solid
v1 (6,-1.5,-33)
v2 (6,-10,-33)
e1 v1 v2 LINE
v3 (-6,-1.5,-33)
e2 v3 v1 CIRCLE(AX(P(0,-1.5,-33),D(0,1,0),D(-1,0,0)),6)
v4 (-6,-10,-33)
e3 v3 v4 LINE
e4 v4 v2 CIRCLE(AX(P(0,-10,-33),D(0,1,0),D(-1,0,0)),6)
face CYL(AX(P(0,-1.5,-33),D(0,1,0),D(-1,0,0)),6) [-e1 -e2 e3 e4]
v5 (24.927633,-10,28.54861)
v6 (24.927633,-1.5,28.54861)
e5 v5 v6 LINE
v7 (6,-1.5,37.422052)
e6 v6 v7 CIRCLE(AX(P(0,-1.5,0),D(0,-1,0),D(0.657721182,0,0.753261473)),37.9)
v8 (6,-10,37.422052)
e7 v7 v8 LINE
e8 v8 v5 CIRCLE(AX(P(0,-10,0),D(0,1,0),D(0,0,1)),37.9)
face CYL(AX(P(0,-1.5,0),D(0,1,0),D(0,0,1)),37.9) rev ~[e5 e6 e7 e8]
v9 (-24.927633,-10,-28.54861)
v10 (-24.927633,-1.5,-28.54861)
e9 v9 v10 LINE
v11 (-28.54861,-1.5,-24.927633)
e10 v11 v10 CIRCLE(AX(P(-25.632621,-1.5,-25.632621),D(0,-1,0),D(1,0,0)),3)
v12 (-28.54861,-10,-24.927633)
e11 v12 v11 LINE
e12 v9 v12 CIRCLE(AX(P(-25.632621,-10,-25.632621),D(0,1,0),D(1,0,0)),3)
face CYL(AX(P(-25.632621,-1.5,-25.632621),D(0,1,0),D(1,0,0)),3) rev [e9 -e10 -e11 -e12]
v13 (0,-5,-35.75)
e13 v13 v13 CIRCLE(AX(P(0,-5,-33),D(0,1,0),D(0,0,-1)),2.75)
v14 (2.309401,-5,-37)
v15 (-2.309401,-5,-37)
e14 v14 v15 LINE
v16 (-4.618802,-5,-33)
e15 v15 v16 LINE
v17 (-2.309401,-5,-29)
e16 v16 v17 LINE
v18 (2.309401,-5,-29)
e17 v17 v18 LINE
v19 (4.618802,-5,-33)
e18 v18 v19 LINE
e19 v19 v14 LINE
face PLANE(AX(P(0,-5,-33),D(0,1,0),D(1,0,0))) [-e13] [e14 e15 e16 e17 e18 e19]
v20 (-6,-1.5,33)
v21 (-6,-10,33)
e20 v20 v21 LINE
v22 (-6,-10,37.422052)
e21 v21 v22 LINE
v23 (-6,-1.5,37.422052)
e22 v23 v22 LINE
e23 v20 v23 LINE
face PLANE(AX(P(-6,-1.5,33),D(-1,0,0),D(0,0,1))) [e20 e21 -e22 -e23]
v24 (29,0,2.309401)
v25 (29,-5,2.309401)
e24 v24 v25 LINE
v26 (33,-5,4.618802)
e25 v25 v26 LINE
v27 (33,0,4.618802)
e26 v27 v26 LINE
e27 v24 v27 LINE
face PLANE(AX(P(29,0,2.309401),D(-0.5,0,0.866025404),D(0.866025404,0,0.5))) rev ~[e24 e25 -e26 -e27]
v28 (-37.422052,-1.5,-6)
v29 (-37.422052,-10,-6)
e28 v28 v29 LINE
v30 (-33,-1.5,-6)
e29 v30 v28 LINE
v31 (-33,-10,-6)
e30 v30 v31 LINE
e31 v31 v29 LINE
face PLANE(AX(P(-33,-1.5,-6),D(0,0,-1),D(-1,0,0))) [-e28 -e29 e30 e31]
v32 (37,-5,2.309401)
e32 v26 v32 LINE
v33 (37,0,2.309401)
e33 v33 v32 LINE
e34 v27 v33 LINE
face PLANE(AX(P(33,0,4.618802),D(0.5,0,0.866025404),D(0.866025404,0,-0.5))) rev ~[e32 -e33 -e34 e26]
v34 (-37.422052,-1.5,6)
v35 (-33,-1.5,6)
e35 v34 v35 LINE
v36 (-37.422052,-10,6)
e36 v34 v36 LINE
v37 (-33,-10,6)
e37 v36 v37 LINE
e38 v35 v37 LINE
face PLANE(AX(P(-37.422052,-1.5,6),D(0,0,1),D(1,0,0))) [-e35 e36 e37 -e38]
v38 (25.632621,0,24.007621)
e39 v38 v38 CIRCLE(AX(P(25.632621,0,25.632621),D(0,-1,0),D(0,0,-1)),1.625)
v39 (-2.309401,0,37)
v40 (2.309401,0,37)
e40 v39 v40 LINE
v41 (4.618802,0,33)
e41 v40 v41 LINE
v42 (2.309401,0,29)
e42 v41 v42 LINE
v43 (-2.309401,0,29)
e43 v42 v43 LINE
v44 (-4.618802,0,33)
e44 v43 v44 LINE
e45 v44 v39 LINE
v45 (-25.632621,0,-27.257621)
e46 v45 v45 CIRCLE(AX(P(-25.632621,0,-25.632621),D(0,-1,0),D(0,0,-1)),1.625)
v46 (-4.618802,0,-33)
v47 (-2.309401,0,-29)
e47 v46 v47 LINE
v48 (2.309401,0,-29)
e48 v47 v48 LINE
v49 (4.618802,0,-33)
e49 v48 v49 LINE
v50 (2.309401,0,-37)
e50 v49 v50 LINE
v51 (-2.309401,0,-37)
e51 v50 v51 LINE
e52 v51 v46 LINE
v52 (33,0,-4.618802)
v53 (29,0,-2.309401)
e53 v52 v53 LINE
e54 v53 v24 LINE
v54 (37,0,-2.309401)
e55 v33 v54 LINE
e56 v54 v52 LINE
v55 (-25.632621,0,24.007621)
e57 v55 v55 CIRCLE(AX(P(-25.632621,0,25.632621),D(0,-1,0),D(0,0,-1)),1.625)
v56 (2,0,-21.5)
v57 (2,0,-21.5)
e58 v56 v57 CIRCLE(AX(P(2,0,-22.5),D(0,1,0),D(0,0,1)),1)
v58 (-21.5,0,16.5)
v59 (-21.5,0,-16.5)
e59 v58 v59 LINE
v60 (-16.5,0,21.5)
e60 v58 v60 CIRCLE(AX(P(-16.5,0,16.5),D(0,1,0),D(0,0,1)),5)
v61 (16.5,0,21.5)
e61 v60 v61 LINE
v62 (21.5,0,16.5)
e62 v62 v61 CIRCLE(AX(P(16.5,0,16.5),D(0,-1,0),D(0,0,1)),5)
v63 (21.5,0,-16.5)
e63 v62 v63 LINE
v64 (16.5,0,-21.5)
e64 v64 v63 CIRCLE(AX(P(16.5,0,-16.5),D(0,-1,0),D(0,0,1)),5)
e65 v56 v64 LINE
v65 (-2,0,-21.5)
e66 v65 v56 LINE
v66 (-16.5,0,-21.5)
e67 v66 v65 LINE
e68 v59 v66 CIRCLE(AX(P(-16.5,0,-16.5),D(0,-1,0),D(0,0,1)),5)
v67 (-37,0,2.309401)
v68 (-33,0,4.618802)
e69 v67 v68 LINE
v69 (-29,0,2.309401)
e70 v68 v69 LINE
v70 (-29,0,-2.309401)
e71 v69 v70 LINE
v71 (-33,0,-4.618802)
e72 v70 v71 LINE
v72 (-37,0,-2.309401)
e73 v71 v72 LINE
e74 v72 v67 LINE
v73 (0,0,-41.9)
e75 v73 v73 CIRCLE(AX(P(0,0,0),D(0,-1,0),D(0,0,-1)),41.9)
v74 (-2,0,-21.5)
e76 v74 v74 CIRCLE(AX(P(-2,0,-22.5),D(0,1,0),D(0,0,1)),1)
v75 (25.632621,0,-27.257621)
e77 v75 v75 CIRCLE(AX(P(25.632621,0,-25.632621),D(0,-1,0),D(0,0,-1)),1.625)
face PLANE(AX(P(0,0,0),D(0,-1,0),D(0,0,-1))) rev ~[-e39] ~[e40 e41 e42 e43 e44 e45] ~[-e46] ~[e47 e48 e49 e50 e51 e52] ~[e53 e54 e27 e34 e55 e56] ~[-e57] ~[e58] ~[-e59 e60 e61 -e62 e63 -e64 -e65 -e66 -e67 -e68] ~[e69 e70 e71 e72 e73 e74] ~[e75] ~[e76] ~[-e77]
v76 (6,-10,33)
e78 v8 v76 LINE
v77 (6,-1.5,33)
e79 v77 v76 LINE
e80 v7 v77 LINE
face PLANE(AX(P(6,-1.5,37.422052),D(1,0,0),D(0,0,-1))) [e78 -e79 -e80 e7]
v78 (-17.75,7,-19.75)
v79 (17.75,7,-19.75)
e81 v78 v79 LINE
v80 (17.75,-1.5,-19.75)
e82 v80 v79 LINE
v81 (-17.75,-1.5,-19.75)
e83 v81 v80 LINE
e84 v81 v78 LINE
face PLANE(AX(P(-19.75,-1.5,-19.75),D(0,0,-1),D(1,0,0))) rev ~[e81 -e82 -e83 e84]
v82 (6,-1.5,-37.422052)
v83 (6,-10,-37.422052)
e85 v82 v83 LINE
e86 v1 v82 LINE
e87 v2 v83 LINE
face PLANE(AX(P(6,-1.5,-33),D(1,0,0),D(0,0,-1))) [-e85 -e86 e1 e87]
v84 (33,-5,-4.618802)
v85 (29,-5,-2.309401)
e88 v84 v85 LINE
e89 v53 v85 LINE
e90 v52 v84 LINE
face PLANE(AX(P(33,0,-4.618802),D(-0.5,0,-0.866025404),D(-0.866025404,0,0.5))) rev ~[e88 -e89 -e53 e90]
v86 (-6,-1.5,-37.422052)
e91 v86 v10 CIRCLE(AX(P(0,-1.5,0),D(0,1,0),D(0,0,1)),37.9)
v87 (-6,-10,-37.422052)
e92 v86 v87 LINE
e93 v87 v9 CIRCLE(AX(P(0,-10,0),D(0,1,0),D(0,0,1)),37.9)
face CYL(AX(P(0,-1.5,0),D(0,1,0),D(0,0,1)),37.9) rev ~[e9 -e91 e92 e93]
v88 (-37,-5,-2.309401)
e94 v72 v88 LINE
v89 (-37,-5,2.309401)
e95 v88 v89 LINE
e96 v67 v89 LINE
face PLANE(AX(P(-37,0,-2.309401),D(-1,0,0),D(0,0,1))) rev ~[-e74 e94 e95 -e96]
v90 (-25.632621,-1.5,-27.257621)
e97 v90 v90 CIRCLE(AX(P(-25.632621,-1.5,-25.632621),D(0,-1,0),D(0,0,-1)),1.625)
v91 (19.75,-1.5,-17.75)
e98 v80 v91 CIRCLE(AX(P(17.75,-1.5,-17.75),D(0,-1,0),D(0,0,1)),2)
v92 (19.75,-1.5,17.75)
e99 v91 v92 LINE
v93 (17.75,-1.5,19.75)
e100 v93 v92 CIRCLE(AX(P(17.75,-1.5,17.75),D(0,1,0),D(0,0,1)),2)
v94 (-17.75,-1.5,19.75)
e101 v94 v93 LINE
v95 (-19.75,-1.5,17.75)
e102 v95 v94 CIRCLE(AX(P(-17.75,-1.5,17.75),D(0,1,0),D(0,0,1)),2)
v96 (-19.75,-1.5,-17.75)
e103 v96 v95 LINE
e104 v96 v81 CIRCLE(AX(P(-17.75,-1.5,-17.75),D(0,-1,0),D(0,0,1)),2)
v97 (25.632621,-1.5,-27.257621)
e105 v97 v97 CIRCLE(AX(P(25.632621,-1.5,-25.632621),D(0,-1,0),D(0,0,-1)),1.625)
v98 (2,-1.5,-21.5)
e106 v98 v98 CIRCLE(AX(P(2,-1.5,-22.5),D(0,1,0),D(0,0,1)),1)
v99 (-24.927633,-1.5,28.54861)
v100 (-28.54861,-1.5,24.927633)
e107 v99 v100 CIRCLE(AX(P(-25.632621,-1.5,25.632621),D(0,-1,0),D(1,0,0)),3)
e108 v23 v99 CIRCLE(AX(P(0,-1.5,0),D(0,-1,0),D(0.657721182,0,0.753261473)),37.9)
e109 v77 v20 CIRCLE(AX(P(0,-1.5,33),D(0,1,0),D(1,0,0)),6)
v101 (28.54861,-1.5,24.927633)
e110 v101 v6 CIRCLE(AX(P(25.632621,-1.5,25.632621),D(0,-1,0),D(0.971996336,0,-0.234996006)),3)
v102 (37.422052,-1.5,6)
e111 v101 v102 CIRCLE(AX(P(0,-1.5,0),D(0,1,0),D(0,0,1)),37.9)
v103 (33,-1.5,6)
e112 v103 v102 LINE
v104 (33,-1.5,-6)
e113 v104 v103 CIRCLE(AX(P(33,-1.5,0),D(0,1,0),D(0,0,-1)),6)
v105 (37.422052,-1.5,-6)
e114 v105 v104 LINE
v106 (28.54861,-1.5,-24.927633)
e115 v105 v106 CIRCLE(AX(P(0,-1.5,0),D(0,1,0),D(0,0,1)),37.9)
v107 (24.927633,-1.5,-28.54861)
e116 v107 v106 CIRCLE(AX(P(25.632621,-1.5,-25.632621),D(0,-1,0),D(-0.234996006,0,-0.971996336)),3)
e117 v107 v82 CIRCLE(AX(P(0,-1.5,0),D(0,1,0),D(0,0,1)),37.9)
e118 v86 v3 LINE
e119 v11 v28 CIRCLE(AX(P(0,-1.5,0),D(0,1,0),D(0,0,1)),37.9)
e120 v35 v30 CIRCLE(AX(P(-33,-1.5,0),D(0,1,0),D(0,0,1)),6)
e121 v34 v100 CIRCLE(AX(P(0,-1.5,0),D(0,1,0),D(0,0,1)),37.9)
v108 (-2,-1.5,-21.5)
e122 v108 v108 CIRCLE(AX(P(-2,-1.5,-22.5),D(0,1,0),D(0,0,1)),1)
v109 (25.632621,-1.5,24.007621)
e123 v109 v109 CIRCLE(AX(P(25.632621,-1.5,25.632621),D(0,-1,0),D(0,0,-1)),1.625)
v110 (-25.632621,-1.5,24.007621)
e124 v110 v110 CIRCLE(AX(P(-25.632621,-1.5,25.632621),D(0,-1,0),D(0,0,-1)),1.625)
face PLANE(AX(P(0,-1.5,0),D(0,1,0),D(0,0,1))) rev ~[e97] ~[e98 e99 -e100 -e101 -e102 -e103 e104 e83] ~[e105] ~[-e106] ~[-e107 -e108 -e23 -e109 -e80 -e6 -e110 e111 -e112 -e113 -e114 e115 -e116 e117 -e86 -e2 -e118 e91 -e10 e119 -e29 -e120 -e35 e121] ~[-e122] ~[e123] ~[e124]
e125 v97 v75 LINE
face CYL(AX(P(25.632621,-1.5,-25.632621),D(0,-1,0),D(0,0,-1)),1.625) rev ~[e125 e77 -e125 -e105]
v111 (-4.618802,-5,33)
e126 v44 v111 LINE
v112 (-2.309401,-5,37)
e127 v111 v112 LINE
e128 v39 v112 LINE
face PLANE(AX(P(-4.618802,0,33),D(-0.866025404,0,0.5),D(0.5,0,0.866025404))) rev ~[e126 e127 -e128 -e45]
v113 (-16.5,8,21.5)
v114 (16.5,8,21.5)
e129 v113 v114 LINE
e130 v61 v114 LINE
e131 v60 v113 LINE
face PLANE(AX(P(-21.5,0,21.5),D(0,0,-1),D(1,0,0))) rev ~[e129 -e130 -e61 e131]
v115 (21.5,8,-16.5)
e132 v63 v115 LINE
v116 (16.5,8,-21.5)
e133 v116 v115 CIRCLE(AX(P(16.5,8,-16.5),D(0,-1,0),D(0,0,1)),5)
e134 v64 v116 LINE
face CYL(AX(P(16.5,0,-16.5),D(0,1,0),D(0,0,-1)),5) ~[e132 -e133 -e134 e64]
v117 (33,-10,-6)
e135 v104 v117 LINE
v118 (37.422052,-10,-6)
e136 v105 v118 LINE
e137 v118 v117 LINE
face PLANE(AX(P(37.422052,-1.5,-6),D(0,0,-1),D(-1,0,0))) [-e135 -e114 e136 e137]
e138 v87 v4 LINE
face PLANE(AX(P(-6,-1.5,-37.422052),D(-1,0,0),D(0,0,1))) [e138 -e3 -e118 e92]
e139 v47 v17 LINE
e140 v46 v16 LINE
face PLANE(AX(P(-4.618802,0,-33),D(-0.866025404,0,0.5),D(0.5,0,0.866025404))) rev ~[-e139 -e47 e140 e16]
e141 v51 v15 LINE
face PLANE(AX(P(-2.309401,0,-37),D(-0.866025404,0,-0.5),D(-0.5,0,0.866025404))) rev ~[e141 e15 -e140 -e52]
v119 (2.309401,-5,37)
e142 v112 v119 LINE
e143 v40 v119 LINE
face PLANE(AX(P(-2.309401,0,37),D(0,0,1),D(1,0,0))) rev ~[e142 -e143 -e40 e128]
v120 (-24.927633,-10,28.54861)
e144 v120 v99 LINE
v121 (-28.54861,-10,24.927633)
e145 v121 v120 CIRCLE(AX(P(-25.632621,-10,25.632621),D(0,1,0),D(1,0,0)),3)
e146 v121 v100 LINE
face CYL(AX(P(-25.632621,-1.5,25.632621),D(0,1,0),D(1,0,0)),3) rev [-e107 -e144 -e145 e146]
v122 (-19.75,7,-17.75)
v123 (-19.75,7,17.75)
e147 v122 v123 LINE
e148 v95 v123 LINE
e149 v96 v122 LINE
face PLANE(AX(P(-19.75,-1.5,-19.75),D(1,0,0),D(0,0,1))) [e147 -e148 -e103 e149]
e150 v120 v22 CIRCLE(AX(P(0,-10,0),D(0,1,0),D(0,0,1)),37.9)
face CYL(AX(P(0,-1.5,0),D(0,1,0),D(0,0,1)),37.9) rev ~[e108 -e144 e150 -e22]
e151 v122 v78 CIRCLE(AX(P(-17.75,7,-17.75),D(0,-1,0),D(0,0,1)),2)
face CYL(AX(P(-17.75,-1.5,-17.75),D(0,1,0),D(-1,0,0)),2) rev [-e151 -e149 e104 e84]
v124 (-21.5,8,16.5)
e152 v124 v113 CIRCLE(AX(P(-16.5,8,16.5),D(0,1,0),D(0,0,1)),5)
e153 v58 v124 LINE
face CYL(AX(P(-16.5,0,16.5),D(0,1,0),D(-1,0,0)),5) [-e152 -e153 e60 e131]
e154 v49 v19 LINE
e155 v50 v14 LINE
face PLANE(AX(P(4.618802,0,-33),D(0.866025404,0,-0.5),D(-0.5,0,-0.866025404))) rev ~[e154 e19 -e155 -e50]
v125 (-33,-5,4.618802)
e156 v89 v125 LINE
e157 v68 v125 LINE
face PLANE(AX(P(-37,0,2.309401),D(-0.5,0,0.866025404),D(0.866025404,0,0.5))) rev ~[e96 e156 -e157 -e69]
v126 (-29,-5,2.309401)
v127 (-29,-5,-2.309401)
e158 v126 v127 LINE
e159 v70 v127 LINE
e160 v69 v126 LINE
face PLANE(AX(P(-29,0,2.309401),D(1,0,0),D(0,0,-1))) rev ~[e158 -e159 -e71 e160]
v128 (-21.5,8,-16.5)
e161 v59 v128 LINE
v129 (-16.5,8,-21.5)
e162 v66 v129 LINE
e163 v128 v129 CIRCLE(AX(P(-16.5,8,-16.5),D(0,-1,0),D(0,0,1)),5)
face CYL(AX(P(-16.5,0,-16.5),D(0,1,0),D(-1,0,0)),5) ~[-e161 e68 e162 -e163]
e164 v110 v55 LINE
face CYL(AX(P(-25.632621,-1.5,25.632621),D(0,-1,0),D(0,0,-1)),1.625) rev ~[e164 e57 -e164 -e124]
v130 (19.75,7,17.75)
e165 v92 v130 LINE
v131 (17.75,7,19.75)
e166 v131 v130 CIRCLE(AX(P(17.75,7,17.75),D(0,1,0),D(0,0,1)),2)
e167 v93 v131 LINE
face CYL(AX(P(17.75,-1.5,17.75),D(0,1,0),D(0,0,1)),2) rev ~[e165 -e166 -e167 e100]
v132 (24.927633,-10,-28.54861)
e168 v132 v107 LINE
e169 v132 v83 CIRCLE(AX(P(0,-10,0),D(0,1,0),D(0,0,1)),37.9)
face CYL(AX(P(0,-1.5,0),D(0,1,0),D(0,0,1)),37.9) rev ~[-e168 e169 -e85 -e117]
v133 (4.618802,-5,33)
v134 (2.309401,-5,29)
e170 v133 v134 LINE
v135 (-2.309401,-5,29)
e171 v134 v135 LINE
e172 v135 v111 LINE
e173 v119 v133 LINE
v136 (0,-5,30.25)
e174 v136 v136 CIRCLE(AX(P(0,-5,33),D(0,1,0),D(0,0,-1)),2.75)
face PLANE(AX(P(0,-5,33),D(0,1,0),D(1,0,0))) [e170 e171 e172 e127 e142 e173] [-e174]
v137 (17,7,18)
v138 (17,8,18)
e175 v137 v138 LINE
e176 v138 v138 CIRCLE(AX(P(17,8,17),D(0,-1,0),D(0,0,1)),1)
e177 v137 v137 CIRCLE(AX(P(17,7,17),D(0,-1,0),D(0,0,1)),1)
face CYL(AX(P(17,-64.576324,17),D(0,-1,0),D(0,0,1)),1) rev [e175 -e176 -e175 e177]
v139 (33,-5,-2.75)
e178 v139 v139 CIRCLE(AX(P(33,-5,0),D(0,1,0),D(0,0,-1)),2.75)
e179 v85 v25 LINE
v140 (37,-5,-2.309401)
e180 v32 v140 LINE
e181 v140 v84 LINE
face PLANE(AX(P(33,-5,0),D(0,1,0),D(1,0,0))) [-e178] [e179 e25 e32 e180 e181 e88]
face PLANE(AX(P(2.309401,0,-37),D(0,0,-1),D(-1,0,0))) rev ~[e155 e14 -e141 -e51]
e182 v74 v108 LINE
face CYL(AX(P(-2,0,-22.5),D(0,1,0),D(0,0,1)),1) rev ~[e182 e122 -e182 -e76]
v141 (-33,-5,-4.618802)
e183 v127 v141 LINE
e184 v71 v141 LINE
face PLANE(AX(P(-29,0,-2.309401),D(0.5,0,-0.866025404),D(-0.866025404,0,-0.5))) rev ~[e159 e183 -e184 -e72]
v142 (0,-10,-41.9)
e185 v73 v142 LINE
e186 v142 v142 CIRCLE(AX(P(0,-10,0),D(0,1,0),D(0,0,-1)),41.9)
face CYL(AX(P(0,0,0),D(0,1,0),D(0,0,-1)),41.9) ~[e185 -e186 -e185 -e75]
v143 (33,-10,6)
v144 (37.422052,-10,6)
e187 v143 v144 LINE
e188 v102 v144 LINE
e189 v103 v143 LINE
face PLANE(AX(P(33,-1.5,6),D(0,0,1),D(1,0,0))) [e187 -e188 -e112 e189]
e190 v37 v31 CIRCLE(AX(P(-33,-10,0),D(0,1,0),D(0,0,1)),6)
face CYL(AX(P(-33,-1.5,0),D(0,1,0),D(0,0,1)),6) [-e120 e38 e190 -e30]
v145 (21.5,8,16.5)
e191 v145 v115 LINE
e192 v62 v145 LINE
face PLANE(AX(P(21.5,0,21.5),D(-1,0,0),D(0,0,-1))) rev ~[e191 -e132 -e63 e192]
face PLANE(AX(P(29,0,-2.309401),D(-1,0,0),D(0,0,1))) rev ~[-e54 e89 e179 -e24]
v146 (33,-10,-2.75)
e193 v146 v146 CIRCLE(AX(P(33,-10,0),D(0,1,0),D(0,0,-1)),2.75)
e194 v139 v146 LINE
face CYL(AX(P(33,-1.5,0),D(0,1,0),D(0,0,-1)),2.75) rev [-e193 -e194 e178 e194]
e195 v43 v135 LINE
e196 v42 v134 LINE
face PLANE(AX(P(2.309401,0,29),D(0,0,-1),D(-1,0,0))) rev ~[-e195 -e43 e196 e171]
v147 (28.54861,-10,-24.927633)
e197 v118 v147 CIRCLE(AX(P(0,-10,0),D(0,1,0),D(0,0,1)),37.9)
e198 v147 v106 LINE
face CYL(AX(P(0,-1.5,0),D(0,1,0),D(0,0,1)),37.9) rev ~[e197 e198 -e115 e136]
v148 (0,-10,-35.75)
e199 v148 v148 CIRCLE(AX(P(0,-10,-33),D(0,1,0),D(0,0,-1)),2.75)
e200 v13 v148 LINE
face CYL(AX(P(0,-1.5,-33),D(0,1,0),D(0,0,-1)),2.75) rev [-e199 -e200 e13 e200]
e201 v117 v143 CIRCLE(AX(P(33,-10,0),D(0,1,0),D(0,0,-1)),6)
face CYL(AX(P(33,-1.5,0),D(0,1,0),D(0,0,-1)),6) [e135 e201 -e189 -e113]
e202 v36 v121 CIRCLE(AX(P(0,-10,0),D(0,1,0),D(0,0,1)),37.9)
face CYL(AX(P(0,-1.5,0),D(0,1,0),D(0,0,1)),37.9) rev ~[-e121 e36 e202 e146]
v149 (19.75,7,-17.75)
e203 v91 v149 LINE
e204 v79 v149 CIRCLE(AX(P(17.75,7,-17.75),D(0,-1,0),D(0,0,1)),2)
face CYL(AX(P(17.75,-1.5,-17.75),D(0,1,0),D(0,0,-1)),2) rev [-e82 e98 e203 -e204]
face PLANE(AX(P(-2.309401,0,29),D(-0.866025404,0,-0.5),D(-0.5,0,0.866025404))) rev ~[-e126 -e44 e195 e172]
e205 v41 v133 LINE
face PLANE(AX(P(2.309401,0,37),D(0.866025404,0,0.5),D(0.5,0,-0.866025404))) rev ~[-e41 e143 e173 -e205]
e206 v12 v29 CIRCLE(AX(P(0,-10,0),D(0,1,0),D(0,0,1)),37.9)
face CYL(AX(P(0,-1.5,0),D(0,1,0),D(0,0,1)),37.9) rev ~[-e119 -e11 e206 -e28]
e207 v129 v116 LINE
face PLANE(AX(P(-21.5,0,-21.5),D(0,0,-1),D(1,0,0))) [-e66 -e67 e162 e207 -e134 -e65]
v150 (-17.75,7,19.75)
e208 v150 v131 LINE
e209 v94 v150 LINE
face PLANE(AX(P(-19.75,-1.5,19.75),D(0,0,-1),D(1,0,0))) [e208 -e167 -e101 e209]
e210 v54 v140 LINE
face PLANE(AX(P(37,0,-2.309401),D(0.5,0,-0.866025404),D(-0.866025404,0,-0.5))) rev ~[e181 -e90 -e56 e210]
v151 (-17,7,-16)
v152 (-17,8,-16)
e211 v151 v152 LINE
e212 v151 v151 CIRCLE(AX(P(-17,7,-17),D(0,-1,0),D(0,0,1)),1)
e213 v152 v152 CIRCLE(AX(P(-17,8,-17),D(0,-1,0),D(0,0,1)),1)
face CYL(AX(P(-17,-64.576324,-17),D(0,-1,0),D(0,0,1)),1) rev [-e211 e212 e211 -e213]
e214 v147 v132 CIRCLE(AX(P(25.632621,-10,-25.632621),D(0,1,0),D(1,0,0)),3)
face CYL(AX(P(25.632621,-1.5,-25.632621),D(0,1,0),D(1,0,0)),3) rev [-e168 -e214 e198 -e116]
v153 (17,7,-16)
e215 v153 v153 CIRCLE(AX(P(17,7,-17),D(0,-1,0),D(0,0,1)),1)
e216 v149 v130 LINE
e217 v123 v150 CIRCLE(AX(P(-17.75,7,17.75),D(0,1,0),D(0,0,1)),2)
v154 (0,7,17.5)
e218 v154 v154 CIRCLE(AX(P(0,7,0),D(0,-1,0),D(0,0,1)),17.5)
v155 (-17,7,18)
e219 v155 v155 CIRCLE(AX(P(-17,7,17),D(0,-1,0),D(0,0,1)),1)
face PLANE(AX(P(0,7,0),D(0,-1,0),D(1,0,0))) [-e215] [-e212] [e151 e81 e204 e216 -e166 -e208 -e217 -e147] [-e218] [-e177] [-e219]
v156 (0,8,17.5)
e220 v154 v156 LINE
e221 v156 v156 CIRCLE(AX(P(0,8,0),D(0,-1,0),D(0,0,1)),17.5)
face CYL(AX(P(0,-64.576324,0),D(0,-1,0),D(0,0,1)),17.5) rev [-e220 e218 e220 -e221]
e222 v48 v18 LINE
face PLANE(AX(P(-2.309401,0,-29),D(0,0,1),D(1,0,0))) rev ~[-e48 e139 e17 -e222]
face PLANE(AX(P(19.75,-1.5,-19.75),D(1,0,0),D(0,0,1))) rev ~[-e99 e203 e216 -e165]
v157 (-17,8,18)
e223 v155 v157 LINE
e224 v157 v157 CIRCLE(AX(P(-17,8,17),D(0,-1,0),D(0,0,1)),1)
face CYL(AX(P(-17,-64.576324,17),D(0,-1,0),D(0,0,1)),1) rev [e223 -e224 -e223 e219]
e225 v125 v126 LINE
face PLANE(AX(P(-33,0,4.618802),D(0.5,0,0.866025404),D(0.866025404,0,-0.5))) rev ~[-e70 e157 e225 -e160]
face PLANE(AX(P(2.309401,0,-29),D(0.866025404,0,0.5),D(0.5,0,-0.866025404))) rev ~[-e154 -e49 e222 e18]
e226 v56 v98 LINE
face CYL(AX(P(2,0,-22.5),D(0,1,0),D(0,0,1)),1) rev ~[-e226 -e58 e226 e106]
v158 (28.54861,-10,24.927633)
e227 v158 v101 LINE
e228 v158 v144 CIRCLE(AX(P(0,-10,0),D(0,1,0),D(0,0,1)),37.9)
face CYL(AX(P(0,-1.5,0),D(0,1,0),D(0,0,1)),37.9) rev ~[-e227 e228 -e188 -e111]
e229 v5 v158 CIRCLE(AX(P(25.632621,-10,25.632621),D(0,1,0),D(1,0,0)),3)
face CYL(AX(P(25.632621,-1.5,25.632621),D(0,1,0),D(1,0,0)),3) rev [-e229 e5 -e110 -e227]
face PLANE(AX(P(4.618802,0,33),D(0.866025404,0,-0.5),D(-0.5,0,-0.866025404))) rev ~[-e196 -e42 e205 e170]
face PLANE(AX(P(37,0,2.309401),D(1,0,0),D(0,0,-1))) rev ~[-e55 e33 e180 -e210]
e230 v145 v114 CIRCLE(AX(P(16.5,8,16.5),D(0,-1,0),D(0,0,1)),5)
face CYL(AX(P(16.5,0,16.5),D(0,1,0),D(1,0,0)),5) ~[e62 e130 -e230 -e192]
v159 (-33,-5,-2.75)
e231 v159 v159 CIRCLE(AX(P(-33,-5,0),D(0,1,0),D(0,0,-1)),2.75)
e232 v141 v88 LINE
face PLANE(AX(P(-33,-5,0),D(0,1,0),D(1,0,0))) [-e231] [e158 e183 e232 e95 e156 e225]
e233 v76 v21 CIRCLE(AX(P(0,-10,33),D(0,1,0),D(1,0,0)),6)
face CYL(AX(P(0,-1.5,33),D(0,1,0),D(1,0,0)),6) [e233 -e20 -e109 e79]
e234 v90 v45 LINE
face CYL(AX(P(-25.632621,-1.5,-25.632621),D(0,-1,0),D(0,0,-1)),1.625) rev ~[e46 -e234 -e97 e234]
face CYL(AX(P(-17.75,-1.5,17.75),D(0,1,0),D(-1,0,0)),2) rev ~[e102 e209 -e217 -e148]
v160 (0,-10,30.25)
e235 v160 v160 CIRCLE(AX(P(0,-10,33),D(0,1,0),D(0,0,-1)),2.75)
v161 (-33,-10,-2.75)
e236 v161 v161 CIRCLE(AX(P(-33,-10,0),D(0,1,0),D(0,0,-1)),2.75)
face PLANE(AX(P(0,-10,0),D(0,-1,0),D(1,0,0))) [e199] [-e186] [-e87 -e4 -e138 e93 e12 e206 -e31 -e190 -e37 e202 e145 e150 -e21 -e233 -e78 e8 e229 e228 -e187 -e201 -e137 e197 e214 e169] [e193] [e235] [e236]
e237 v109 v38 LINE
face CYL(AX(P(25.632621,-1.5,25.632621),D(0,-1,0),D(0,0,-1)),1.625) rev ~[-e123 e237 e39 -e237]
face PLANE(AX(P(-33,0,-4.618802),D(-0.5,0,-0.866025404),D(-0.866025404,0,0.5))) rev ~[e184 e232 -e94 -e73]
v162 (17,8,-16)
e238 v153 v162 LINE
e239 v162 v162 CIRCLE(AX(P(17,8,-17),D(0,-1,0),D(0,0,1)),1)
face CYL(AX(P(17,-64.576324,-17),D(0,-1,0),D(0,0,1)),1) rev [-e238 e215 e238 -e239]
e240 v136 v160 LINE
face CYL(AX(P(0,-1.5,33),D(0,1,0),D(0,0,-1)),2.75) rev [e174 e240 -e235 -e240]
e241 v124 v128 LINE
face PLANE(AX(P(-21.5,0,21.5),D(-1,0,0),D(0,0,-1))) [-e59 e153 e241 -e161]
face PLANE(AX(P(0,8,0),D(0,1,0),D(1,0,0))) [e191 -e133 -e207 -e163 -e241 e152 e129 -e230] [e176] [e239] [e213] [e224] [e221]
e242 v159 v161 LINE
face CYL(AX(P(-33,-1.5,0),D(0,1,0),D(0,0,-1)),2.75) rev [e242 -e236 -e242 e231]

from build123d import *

# Parameters (mm, degrees)
SKETCH1_R               = 41.9
TOP_PART_DEPTH          = 15
SKETCH2_R               = 30
CUT_EXTRUDE1_DEPTH      = 20
FILLET1_R               = 1.5
CHAMFER1_SIZE           = 2
SKETCH8_7_R             = 1.625
CUT_EXTRUDE8_DEPTH      = 3
SKETCH8_R               = 1.625
CUT_EXTRUDE7_DEPTH      = 62.124626857
CUT_EXTRUDE11_DEPTH     = 62.124626857
SKETCH15_R              = 1.625
CUT_EXTRUDE14_DEPTH     = 10
CUT_EXTRUDE15_DEPTH     = 10
CIRPATTERN1_COUNT       = 4
CIRPATTERN2_COUNT       = 4
SKETCH3_R               = 41.9
BOTTOM_PART_DEPTH       = 20
SKETCH6_R               = 37.9
CUT_EXTRUDE3_DEPTH      = 63.076324134
SKETCH_1_W              = 43
SKETCH_1_H              = 43
EXTRUDE_1_DEPTH         = 8
FILLET_1_R              = 5
CUT_EXTRUDE4_DEPTH      = 63.076324134
CUT_EXTRUDE4_DEPTH_BACK = 63.076324134
SKETCH7_R               = 17.5
SKETCH7_R_2             = 1
SKETCH12_W              = 39.5
SKETCH12_H              = 39.5
CUT_EXTRUDE10_DEPTH     = 8.5
FILLET3_R               = 2
SKETCH17_R              = 1.625
CUT_EXTRUDE16_DEPTH     = 63.076324134
SKETCH18_R              = 3
CUT_EXTRUDE17_DEPTH     = 63.076324134
SKETCH19_R              = 2.75
BOSS_EXTRUDE1_DEPTH     = 18.5
SKETCH20_W              = 87.79908129
SKETCH20_H              = 93.09964502
CUT_EXTRUDE18_DEPTH     = 10
SKETCH21_W              = 20
SKETCH21_H              = 8.651798588
CUT_EXTRUDE19_DEPTH     = 15
SKETCH22_R              = 41.9
SKETCH22_R_2            = 30
CUT_EXTRUDE20_DEPTH     = 15
SKETCH23_R              = 2.75
CUT_EXTRUDE21_DEPTH     = 62.92915307
CUT_EXTRUDE22_DEPTH     = 5
SKETCH25_R              = 1
CUT_EXTRUDE23_DEPTH     = 10


with BuildPart() as part:
    # Sketch1 → Top-Part (new body)
    with BuildSketch(Plane(origin=(0, 0, 0), x_dir=(1, 0, 0), z_dir=(0, 1, 0))):
        with Locations(Location((0, 0, 0), (0, 0, 270))):
            Circle(SKETCH1_R)
    extrude(amount=TOP_PART_DEPTH)

    # Sketch2 → Cut-Extrude1 (cut)
    with BuildSketch(Plane(origin=(0, 15, 0), x_dir=(1, 0, 0), z_dir=(0, 1, 0))):
        with Locations(Location((0, 0, 0), (0, 0, 270))):
            Circle(SKETCH2_R)
    extrude(amount=-CUT_EXTRUDE1_DEPTH, mode=Mode.SUBTRACT)

    # Fillet1
    fillet1_edges = [part.edges().sort_by_distance(p)[0] for p in [
        (0, 15, -41.9),
    ]]
    fillet(fillet1_edges, radius=FILLET1_R)

    # Chamfer1
    chamfer1_edges = [part.edges().sort_by_distance(p)[0] for p in [
        (0, 15, -30),
    ]]
    chamfer(chamfer1_edges, length=CHAMFER1_SIZE)

    # Sketch8<7> → Cut-Extrude8 (cut)
    # profile 1 of 4: a face of its own
    with BuildSketch(Plane(origin=(0, 15, 0), x_dir=(1, 0, 0), z_dir=(0, 1, 0))):
        Polygon((25.083213555, 22.516777398), (28.056316743, 23.598898462), (28.605724005, 26.714741882), (26.182028081, 28.748464238), (23.208924893, 27.666343174), (22.659517631, 24.550499754), align=None)
        with Locations(Location((25.632620818, 25.632620818, 0), (0, 0, 270))):
            Circle(SKETCH8_7_R, mode=Mode.SUBTRACT)
    # profile 2 of 4: a face of its own
    with BuildSketch(Plane(origin=(0, 15, 0), x_dir=(1, 0, 0), z_dir=(0, 1, 0))):
        Polygon((-22.516777398, 25.083213555), (-23.598898462, 28.056316743), (-26.714741882, 28.605724005), (-28.748464238, 26.182028081), (-27.666343174, 23.208924893), (-24.550499754, 22.659517631), align=None)
        with Locations(Location((-25.632620818, 25.632620818, 0), (0, 0, 270))):
            Circle(SKETCH8_7_R, mode=Mode.SUBTRACT)
    # profile 3 of 4: a face of its own
    with BuildSketch(Plane(origin=(0, 15, 0), x_dir=(1, 0, 0), z_dir=(0, 1, 0))):
        Polygon((22.516777398, -25.083213555), (23.598898462, -28.056316743), (26.714741882, -28.605724005), (28.748464238, -26.182028081), (27.666343174, -23.208924893), (24.550499754, -22.659517631), align=None)
        with Locations(Location((25.632620818, -25.632620818, 0), (0, 0, 270))):
            Circle(SKETCH8_7_R, mode=Mode.SUBTRACT)
    # profile 4 of 4: a face of its own
    with BuildSketch(Plane(origin=(0, 15, 0), x_dir=(1, 0, 0), z_dir=(0, 1, 0))):
        Polygon((-25.083213555, -22.516777398), (-28.056316743, -23.598898462), (-28.605724005, -26.714741882), (-26.182028081, -28.748464238), (-23.208924893, -27.666343174), (-22.659517631, -24.550499754), align=None)
        with Locations(Location((-25.632620818, -25.632620818, 0), (0, 0, 270))):
            Circle(SKETCH8_7_R, mode=Mode.SUBTRACT)
    extrude(amount=-CUT_EXTRUDE8_DEPTH, mode=Mode.SUBTRACT)

    # Sketch8 → Cut-Extrude7 (cut, through all)
    with BuildSketch(Plane(origin=(0, 15, 0), x_dir=(1, 0, 0), z_dir=(0, 1, 0))):
        with Locations(Location((-25.632620818, 25.632620818, 0), (0, 0, 270))):
            Circle(SKETCH8_R)
        with Locations(Location((25.632620818, 25.632620818, 0), (0, 0, 270))):
            Circle(SKETCH8_R)
        with Locations(Location((25.632620818, -25.632620818, 0), (0, 0, 270))):
            Circle(SKETCH8_R)
        with Locations(Location((-25.632620818, -25.632620818, 0), (0, 0, 270))):
            Circle(SKETCH8_R)
    extrude(amount=-CUT_EXTRUDE7_DEPTH, mode=Mode.SUBTRACT)

    # Sketch13 → Cut-Extrude11 (cut, through all)
    with BuildSketch(Plane.XZ):
        with BuildLine():
            Line((-10, 35.519149765), (-10, 40.689187753))
            ThreePointArc((-10, 40.689187753), (0, 41.9), (10, 40.689187753))
            Line((10, 40.689187753), (10, 35.519149765))
            ThreePointArc((10, 35.519149765), (0, 36.9), (-10, 35.519149765))
        make_face()
    extrude(amount=-CUT_EXTRUDE11_DEPTH, mode=Mode.SUBTRACT)

    # Sketch15 → Cut-Extrude14 (cut, symmetric)
    with BuildSketch(Plane.XY.offset(32.4)):
        with Locations(Location((0, 7.5, 0), (0, 0, 180))):
            Circle(SKETCH15_R)
    cut_extrude14 = extrude(amount=CUT_EXTRUDE14_DEPTH, both=True, mode=Mode.SUBTRACT)

    # Sketch16 → Cut-Extrude15 (cut)
    with BuildSketch(Plane.XY.offset(32.4)):
        Polygon((3.377499075, 7.5), (1.688749537, 10.425), (-1.688749537, 10.425), (-3.377499075, 7.5), (-1.688749537, 4.575), (1.688749537, 4.575), align=None)
    cut_extrude15 = extrude(amount=-CUT_EXTRUDE15_DEPTH, mode=Mode.SUBTRACT)

    # CirPattern1: Cut-Extrude14 ×4 about axis
    cirpattern1_axis = Axis((0, 0, 0), (0, 1, 0))
    for i in range(1, CIRPATTERN1_COUNT):
        add(cut_extrude14.rotate(cirpattern1_axis, i * 360 / CIRPATTERN1_COUNT), mode=Mode.SUBTRACT)

    # CirPattern2: Cut-Extrude15 ×4 about axis
    cirpattern2_axis = Axis((0, 0, 0), (0, 1, 0))
    for i in range(1, CIRPATTERN2_COUNT):
        add(cut_extrude15.rotate(cirpattern2_axis, i * 360 / CIRPATTERN2_COUNT), mode=Mode.SUBTRACT)

    # Sketch21 → Cut-Extrude19 (cut)
    with BuildSketch(Plane(origin=(0, 15, 0), x_dir=(1, 0, 0), z_dir=(0, 1, 0))):
        with Locations((0, -39.225899294)):
            Rectangle(SKETCH21_W, SKETCH21_H)
    extrude(amount=-CUT_EXTRUDE19_DEPTH, mode=Mode.SUBTRACT)

    # Sketch22 → Cut-Extrude20 (cut)
    with BuildSketch(Plane(origin=(0, 15, 0), x_dir=(1, 0, 0), z_dir=(0, 1, 0))):
        with Locations(Location((0, 0, 0), (0, 0, 270))):
            Circle(SKETCH22_R)
        Circle(SKETCH22_R_2, mode=Mode.SUBTRACT)
    extrude(amount=-CUT_EXTRUDE20_DEPTH, mode=Mode.SUBTRACT)


with BuildPart() as body_2:
    # Sketch3 → Bottom-Part (new body)
    with BuildSketch(Plane.XZ):
        with Locations(Location((0, 0, 0), (0, 0, 270))):
            Circle(SKETCH3_R)
    extrude(amount=BOTTOM_PART_DEPTH)

    # Sketch6 → Cut-Extrude3 (cut, through all)
    with BuildSketch(Plane(origin=(0, -1.5, 0), x_dir=(1, 0, 0), z_dir=(0, 1, 0))):
        with Locations(Location((0, 0, 0), (0, 0, 270))):
            Circle(SKETCH6_R)
    extrude(amount=-CUT_EXTRUDE3_DEPTH, mode=Mode.SUBTRACT)

    # ｽｹｯﾁ1 → ﾎﾞｽ - 押し出し1 (add)
    with BuildSketch(Plane(origin=(0, 0, 0), x_dir=(1, 0, 0), z_dir=(0, 1, 0))):
        Rectangle(SKETCH_1_W, SKETCH_1_H)
    extrude(amount=EXTRUDE_1_DEPTH)

    # ﾌｨﾚｯﾄ1
    fillet_1_edges = [body_2.edges().sort_by_distance(p)[0] for p in [
        (-21.5, 4, -21.5),
        (-21.5, 4, 21.5),
        (21.5, 4, 21.5),
        (21.5, 4, -21.5),
    ]]
    fillet(fillet_1_edges, radius=FILLET_1_R)

    # Sketch7 → Cut-Extrude4 (cut, two sides: drawn at the far end of the back side and taken through both)
    with BuildSketch(Plane(origin=(0, -1.5, 0), x_dir=(1, 0, 0), z_dir=(0, 1, 0)).offset(-CUT_EXTRUDE4_DEPTH_BACK)):
        with Locations(Location((0, 0, 0), (0, 0, 270))):
            Circle(SKETCH7_R)
        with Locations(Location((17, -17, 0), (0, 0, 270))):
            Circle(SKETCH7_R_2)
        with Locations(Location((-17, -17, 0), (0, 0, 270))):
            Circle(SKETCH7_R_2)
        with Locations(Location((-17, 17, 0), (0, 0, 270))):
            Circle(SKETCH7_R_2)
        with Locations(Location((17, 17, 0), (0, 0, 270))):
            Circle(SKETCH7_R_2)
    extrude(amount=CUT_EXTRUDE4_DEPTH + CUT_EXTRUDE4_DEPTH_BACK, mode=Mode.SUBTRACT)

    # Sketch12 → Cut-Extrude10 (cut)
    with BuildSketch(Plane.XZ.offset(1.5)):
        Rectangle(SKETCH12_W, SKETCH12_H)
    extrude(amount=-CUT_EXTRUDE10_DEPTH, mode=Mode.SUBTRACT)

    # Fillet3
    fillet3_edges = [body_2.edges().sort_by_distance(p)[0] for p in [
        (-19.75, 2.75, -19.75),
        (-19.75, 2.75, 19.75),
        (19.75, 2.75, 19.75),
        (19.75, 2.75, -19.75),
    ]]
    fillet(fillet3_edges, radius=FILLET3_R)

    # Sketch17 → Cut-Extrude16 (cut, through all)
    with BuildSketch(Plane.XZ.offset(1.5)):
        with Locations(Location((25.632620818, -25.632620818, 0), (0, 0, 270))):
            Circle(SKETCH17_R)
        with Locations(Location((-25.632620818, -25.632620818, 0), (0, 0, 270))):
            Circle(SKETCH17_R)
        with Locations(Location((25.632620818, 25.632620818, 0), (0, 0, 270))):
            Circle(SKETCH17_R)
        with Locations(Location((-25.632620818, 25.632620818, 0), (0, 0, 270))):
            Circle(SKETCH17_R)
    extrude(amount=-CUT_EXTRUDE16_DEPTH, mode=Mode.SUBTRACT)

    # Sketch18 → Cut-Extrude17 (cut, through all)
    with BuildSketch(Plane.XZ.offset(1.5)):
        with Locations((-25.632620818, 25.632620818)):
            Circle(SKETCH18_R)
        with Locations((25.632620818, 25.632620818)):
            Circle(SKETCH18_R)
        with Locations((25.632620818, -25.632620818)):
            Circle(SKETCH18_R)
        with Locations((-25.632620818, -25.632620818)):
            Circle(SKETCH18_R)
    extrude(amount=CUT_EXTRUDE17_DEPTH, mode=Mode.SUBTRACT)

    # Sketch19 → Boss-Extrude1 (add)
    # profile 1 of 4: a face of its own
    with BuildSketch(Plane.XZ.offset(1.5)):
        with BuildLine():
            Line((-6, 33), (-6, 37.422052322))
            ThreePointArc((-6, 37.422052322), (0, 37.9), (6, 37.422052322))
            Line((6, 37.422052322), (6, 33))
            ThreePointArc((6, 33), (0, 27), (-6, 33))
        make_face()
        with Locations(Location((0, 33, 0), (0, 0, 270))):
            Circle(SKETCH19_R, mode=Mode.SUBTRACT)
    # profile 2 of 4: a face of its own
    with BuildSketch(Plane.XZ.offset(1.5)):
        with BuildLine():
            Line((33, 6), (37.422052322, 6))
            ThreePointArc((37.422052322, 6), (37.9, 0), (37.422052322, -6))
            Line((37.422052322, -6), (33, -6))
            ThreePointArc((33, -6), (27, 0), (33, 6))
        make_face()
        with Locations(Location((33, 0, 0), (0, 0, 270))):
            Circle(SKETCH19_R, mode=Mode.SUBTRACT)
    # profile 3 of 4: a face of its own
    with BuildSketch(Plane.XZ.offset(1.5)):
        with BuildLine():
            Line((6, -33), (6, -37.422052322))
            ThreePointArc((6, -37.422052322), (0, -37.9), (-6, -37.422052322))
            Line((-6, -37.422052322), (-6, -33))
            ThreePointArc((-6, -33), (0, -27), (6, -33))
        make_face()
        with Locations(Location((0, -33, 0), (0, 0, 270))):
            Circle(SKETCH19_R, mode=Mode.SUBTRACT)
    # profile 4 of 4: a face of its own
    with BuildSketch(Plane.XZ.offset(1.5)):
        with BuildLine():
            Line((-33, -6), (-37.422052322, -6))
            ThreePointArc((-37.422052322, -6), (-37.9, 0), (-37.422052322, 6))
            Line((-37.422052322, 6), (-33, 6))
            ThreePointArc((-33, 6), (-27, 0), (-33, -6))
        make_face()
        with Locations(Location((-33, 0, 0), (0, 0, 270))):
            Circle(SKETCH19_R, mode=Mode.SUBTRACT)
    extrude(amount=BOSS_EXTRUDE1_DEPTH)

    # Sketch20 → Cut-Extrude18 (cut)
    with BuildSketch(Plane.XZ.offset(20)):
        Rectangle(SKETCH20_W, SKETCH20_H)
    extrude(amount=-CUT_EXTRUDE18_DEPTH, mode=Mode.SUBTRACT)

    # Sketch23 → Cut-Extrude21 (cut, through all)
    with BuildSketch(Plane.XZ.offset(10)):
        with Locations(Location((0, 33, 0), (0, 0, 90))):
            Circle(SKETCH23_R)
        with Locations(Location((-33, 0, 0), (0, 0, 90))):
            Circle(SKETCH23_R)
        with Locations(Location((0, -33, 0), (0, 0, 90))):
            Circle(SKETCH23_R)
        with Locations(Location((33, 0, 0), (0, 0, 90))):
            Circle(SKETCH23_R)
    extrude(amount=-CUT_EXTRUDE21_DEPTH, mode=Mode.SUBTRACT)

    # Sketch24 → Cut-Extrude22 (cut)
    with BuildSketch(Plane(origin=(0, 0, 0), x_dir=(1, 0, 0), z_dir=(0, 1, 0))):
        Polygon((37, -2.309401077), (37, 2.309401077), (33, 4.618802154), (29, 2.309401077), (29, -2.309401077), (33, -4.618802154), align=None)
        Polygon((4.618802154, 33), (2.309401077, 37), (-2.309401077, 37), (-4.618802154, 33), (-2.309401077, 29), (2.309401077, 29), align=None)
        Polygon((-2.309401077, -37), (2.309401077, -37), (4.618802154, -33), (2.309401077, -29), (-2.309401077, -29), (-4.618802154, -33), align=None)
        Polygon((-37, 2.309401077), (-37, -2.309401077), (-33, -4.618802154), (-29, -2.309401077), (-29, 2.309401077), (-33, 4.618802154), align=None)
    extrude(amount=-CUT_EXTRUDE22_DEPTH, mode=Mode.SUBTRACT)

    # Sketch25 → Cut-Extrude23 (cut)
    with BuildSketch(Plane(origin=(0, 0, 0), x_dir=(1, 0, 0), z_dir=(0, 1, 0))):
        with Locations(Location((-2, 22.5, 0), (0, 0, 270))):
            Circle(SKETCH25_R)
        with Locations(Location((2, 22.5, 0), (0, 0, 270))):
            Circle(SKETCH25_R)
    extrude(amount=-CUT_EXTRUDE23_DEPTH, mode=Mode.SUBTRACT)


solid = body_2.part
